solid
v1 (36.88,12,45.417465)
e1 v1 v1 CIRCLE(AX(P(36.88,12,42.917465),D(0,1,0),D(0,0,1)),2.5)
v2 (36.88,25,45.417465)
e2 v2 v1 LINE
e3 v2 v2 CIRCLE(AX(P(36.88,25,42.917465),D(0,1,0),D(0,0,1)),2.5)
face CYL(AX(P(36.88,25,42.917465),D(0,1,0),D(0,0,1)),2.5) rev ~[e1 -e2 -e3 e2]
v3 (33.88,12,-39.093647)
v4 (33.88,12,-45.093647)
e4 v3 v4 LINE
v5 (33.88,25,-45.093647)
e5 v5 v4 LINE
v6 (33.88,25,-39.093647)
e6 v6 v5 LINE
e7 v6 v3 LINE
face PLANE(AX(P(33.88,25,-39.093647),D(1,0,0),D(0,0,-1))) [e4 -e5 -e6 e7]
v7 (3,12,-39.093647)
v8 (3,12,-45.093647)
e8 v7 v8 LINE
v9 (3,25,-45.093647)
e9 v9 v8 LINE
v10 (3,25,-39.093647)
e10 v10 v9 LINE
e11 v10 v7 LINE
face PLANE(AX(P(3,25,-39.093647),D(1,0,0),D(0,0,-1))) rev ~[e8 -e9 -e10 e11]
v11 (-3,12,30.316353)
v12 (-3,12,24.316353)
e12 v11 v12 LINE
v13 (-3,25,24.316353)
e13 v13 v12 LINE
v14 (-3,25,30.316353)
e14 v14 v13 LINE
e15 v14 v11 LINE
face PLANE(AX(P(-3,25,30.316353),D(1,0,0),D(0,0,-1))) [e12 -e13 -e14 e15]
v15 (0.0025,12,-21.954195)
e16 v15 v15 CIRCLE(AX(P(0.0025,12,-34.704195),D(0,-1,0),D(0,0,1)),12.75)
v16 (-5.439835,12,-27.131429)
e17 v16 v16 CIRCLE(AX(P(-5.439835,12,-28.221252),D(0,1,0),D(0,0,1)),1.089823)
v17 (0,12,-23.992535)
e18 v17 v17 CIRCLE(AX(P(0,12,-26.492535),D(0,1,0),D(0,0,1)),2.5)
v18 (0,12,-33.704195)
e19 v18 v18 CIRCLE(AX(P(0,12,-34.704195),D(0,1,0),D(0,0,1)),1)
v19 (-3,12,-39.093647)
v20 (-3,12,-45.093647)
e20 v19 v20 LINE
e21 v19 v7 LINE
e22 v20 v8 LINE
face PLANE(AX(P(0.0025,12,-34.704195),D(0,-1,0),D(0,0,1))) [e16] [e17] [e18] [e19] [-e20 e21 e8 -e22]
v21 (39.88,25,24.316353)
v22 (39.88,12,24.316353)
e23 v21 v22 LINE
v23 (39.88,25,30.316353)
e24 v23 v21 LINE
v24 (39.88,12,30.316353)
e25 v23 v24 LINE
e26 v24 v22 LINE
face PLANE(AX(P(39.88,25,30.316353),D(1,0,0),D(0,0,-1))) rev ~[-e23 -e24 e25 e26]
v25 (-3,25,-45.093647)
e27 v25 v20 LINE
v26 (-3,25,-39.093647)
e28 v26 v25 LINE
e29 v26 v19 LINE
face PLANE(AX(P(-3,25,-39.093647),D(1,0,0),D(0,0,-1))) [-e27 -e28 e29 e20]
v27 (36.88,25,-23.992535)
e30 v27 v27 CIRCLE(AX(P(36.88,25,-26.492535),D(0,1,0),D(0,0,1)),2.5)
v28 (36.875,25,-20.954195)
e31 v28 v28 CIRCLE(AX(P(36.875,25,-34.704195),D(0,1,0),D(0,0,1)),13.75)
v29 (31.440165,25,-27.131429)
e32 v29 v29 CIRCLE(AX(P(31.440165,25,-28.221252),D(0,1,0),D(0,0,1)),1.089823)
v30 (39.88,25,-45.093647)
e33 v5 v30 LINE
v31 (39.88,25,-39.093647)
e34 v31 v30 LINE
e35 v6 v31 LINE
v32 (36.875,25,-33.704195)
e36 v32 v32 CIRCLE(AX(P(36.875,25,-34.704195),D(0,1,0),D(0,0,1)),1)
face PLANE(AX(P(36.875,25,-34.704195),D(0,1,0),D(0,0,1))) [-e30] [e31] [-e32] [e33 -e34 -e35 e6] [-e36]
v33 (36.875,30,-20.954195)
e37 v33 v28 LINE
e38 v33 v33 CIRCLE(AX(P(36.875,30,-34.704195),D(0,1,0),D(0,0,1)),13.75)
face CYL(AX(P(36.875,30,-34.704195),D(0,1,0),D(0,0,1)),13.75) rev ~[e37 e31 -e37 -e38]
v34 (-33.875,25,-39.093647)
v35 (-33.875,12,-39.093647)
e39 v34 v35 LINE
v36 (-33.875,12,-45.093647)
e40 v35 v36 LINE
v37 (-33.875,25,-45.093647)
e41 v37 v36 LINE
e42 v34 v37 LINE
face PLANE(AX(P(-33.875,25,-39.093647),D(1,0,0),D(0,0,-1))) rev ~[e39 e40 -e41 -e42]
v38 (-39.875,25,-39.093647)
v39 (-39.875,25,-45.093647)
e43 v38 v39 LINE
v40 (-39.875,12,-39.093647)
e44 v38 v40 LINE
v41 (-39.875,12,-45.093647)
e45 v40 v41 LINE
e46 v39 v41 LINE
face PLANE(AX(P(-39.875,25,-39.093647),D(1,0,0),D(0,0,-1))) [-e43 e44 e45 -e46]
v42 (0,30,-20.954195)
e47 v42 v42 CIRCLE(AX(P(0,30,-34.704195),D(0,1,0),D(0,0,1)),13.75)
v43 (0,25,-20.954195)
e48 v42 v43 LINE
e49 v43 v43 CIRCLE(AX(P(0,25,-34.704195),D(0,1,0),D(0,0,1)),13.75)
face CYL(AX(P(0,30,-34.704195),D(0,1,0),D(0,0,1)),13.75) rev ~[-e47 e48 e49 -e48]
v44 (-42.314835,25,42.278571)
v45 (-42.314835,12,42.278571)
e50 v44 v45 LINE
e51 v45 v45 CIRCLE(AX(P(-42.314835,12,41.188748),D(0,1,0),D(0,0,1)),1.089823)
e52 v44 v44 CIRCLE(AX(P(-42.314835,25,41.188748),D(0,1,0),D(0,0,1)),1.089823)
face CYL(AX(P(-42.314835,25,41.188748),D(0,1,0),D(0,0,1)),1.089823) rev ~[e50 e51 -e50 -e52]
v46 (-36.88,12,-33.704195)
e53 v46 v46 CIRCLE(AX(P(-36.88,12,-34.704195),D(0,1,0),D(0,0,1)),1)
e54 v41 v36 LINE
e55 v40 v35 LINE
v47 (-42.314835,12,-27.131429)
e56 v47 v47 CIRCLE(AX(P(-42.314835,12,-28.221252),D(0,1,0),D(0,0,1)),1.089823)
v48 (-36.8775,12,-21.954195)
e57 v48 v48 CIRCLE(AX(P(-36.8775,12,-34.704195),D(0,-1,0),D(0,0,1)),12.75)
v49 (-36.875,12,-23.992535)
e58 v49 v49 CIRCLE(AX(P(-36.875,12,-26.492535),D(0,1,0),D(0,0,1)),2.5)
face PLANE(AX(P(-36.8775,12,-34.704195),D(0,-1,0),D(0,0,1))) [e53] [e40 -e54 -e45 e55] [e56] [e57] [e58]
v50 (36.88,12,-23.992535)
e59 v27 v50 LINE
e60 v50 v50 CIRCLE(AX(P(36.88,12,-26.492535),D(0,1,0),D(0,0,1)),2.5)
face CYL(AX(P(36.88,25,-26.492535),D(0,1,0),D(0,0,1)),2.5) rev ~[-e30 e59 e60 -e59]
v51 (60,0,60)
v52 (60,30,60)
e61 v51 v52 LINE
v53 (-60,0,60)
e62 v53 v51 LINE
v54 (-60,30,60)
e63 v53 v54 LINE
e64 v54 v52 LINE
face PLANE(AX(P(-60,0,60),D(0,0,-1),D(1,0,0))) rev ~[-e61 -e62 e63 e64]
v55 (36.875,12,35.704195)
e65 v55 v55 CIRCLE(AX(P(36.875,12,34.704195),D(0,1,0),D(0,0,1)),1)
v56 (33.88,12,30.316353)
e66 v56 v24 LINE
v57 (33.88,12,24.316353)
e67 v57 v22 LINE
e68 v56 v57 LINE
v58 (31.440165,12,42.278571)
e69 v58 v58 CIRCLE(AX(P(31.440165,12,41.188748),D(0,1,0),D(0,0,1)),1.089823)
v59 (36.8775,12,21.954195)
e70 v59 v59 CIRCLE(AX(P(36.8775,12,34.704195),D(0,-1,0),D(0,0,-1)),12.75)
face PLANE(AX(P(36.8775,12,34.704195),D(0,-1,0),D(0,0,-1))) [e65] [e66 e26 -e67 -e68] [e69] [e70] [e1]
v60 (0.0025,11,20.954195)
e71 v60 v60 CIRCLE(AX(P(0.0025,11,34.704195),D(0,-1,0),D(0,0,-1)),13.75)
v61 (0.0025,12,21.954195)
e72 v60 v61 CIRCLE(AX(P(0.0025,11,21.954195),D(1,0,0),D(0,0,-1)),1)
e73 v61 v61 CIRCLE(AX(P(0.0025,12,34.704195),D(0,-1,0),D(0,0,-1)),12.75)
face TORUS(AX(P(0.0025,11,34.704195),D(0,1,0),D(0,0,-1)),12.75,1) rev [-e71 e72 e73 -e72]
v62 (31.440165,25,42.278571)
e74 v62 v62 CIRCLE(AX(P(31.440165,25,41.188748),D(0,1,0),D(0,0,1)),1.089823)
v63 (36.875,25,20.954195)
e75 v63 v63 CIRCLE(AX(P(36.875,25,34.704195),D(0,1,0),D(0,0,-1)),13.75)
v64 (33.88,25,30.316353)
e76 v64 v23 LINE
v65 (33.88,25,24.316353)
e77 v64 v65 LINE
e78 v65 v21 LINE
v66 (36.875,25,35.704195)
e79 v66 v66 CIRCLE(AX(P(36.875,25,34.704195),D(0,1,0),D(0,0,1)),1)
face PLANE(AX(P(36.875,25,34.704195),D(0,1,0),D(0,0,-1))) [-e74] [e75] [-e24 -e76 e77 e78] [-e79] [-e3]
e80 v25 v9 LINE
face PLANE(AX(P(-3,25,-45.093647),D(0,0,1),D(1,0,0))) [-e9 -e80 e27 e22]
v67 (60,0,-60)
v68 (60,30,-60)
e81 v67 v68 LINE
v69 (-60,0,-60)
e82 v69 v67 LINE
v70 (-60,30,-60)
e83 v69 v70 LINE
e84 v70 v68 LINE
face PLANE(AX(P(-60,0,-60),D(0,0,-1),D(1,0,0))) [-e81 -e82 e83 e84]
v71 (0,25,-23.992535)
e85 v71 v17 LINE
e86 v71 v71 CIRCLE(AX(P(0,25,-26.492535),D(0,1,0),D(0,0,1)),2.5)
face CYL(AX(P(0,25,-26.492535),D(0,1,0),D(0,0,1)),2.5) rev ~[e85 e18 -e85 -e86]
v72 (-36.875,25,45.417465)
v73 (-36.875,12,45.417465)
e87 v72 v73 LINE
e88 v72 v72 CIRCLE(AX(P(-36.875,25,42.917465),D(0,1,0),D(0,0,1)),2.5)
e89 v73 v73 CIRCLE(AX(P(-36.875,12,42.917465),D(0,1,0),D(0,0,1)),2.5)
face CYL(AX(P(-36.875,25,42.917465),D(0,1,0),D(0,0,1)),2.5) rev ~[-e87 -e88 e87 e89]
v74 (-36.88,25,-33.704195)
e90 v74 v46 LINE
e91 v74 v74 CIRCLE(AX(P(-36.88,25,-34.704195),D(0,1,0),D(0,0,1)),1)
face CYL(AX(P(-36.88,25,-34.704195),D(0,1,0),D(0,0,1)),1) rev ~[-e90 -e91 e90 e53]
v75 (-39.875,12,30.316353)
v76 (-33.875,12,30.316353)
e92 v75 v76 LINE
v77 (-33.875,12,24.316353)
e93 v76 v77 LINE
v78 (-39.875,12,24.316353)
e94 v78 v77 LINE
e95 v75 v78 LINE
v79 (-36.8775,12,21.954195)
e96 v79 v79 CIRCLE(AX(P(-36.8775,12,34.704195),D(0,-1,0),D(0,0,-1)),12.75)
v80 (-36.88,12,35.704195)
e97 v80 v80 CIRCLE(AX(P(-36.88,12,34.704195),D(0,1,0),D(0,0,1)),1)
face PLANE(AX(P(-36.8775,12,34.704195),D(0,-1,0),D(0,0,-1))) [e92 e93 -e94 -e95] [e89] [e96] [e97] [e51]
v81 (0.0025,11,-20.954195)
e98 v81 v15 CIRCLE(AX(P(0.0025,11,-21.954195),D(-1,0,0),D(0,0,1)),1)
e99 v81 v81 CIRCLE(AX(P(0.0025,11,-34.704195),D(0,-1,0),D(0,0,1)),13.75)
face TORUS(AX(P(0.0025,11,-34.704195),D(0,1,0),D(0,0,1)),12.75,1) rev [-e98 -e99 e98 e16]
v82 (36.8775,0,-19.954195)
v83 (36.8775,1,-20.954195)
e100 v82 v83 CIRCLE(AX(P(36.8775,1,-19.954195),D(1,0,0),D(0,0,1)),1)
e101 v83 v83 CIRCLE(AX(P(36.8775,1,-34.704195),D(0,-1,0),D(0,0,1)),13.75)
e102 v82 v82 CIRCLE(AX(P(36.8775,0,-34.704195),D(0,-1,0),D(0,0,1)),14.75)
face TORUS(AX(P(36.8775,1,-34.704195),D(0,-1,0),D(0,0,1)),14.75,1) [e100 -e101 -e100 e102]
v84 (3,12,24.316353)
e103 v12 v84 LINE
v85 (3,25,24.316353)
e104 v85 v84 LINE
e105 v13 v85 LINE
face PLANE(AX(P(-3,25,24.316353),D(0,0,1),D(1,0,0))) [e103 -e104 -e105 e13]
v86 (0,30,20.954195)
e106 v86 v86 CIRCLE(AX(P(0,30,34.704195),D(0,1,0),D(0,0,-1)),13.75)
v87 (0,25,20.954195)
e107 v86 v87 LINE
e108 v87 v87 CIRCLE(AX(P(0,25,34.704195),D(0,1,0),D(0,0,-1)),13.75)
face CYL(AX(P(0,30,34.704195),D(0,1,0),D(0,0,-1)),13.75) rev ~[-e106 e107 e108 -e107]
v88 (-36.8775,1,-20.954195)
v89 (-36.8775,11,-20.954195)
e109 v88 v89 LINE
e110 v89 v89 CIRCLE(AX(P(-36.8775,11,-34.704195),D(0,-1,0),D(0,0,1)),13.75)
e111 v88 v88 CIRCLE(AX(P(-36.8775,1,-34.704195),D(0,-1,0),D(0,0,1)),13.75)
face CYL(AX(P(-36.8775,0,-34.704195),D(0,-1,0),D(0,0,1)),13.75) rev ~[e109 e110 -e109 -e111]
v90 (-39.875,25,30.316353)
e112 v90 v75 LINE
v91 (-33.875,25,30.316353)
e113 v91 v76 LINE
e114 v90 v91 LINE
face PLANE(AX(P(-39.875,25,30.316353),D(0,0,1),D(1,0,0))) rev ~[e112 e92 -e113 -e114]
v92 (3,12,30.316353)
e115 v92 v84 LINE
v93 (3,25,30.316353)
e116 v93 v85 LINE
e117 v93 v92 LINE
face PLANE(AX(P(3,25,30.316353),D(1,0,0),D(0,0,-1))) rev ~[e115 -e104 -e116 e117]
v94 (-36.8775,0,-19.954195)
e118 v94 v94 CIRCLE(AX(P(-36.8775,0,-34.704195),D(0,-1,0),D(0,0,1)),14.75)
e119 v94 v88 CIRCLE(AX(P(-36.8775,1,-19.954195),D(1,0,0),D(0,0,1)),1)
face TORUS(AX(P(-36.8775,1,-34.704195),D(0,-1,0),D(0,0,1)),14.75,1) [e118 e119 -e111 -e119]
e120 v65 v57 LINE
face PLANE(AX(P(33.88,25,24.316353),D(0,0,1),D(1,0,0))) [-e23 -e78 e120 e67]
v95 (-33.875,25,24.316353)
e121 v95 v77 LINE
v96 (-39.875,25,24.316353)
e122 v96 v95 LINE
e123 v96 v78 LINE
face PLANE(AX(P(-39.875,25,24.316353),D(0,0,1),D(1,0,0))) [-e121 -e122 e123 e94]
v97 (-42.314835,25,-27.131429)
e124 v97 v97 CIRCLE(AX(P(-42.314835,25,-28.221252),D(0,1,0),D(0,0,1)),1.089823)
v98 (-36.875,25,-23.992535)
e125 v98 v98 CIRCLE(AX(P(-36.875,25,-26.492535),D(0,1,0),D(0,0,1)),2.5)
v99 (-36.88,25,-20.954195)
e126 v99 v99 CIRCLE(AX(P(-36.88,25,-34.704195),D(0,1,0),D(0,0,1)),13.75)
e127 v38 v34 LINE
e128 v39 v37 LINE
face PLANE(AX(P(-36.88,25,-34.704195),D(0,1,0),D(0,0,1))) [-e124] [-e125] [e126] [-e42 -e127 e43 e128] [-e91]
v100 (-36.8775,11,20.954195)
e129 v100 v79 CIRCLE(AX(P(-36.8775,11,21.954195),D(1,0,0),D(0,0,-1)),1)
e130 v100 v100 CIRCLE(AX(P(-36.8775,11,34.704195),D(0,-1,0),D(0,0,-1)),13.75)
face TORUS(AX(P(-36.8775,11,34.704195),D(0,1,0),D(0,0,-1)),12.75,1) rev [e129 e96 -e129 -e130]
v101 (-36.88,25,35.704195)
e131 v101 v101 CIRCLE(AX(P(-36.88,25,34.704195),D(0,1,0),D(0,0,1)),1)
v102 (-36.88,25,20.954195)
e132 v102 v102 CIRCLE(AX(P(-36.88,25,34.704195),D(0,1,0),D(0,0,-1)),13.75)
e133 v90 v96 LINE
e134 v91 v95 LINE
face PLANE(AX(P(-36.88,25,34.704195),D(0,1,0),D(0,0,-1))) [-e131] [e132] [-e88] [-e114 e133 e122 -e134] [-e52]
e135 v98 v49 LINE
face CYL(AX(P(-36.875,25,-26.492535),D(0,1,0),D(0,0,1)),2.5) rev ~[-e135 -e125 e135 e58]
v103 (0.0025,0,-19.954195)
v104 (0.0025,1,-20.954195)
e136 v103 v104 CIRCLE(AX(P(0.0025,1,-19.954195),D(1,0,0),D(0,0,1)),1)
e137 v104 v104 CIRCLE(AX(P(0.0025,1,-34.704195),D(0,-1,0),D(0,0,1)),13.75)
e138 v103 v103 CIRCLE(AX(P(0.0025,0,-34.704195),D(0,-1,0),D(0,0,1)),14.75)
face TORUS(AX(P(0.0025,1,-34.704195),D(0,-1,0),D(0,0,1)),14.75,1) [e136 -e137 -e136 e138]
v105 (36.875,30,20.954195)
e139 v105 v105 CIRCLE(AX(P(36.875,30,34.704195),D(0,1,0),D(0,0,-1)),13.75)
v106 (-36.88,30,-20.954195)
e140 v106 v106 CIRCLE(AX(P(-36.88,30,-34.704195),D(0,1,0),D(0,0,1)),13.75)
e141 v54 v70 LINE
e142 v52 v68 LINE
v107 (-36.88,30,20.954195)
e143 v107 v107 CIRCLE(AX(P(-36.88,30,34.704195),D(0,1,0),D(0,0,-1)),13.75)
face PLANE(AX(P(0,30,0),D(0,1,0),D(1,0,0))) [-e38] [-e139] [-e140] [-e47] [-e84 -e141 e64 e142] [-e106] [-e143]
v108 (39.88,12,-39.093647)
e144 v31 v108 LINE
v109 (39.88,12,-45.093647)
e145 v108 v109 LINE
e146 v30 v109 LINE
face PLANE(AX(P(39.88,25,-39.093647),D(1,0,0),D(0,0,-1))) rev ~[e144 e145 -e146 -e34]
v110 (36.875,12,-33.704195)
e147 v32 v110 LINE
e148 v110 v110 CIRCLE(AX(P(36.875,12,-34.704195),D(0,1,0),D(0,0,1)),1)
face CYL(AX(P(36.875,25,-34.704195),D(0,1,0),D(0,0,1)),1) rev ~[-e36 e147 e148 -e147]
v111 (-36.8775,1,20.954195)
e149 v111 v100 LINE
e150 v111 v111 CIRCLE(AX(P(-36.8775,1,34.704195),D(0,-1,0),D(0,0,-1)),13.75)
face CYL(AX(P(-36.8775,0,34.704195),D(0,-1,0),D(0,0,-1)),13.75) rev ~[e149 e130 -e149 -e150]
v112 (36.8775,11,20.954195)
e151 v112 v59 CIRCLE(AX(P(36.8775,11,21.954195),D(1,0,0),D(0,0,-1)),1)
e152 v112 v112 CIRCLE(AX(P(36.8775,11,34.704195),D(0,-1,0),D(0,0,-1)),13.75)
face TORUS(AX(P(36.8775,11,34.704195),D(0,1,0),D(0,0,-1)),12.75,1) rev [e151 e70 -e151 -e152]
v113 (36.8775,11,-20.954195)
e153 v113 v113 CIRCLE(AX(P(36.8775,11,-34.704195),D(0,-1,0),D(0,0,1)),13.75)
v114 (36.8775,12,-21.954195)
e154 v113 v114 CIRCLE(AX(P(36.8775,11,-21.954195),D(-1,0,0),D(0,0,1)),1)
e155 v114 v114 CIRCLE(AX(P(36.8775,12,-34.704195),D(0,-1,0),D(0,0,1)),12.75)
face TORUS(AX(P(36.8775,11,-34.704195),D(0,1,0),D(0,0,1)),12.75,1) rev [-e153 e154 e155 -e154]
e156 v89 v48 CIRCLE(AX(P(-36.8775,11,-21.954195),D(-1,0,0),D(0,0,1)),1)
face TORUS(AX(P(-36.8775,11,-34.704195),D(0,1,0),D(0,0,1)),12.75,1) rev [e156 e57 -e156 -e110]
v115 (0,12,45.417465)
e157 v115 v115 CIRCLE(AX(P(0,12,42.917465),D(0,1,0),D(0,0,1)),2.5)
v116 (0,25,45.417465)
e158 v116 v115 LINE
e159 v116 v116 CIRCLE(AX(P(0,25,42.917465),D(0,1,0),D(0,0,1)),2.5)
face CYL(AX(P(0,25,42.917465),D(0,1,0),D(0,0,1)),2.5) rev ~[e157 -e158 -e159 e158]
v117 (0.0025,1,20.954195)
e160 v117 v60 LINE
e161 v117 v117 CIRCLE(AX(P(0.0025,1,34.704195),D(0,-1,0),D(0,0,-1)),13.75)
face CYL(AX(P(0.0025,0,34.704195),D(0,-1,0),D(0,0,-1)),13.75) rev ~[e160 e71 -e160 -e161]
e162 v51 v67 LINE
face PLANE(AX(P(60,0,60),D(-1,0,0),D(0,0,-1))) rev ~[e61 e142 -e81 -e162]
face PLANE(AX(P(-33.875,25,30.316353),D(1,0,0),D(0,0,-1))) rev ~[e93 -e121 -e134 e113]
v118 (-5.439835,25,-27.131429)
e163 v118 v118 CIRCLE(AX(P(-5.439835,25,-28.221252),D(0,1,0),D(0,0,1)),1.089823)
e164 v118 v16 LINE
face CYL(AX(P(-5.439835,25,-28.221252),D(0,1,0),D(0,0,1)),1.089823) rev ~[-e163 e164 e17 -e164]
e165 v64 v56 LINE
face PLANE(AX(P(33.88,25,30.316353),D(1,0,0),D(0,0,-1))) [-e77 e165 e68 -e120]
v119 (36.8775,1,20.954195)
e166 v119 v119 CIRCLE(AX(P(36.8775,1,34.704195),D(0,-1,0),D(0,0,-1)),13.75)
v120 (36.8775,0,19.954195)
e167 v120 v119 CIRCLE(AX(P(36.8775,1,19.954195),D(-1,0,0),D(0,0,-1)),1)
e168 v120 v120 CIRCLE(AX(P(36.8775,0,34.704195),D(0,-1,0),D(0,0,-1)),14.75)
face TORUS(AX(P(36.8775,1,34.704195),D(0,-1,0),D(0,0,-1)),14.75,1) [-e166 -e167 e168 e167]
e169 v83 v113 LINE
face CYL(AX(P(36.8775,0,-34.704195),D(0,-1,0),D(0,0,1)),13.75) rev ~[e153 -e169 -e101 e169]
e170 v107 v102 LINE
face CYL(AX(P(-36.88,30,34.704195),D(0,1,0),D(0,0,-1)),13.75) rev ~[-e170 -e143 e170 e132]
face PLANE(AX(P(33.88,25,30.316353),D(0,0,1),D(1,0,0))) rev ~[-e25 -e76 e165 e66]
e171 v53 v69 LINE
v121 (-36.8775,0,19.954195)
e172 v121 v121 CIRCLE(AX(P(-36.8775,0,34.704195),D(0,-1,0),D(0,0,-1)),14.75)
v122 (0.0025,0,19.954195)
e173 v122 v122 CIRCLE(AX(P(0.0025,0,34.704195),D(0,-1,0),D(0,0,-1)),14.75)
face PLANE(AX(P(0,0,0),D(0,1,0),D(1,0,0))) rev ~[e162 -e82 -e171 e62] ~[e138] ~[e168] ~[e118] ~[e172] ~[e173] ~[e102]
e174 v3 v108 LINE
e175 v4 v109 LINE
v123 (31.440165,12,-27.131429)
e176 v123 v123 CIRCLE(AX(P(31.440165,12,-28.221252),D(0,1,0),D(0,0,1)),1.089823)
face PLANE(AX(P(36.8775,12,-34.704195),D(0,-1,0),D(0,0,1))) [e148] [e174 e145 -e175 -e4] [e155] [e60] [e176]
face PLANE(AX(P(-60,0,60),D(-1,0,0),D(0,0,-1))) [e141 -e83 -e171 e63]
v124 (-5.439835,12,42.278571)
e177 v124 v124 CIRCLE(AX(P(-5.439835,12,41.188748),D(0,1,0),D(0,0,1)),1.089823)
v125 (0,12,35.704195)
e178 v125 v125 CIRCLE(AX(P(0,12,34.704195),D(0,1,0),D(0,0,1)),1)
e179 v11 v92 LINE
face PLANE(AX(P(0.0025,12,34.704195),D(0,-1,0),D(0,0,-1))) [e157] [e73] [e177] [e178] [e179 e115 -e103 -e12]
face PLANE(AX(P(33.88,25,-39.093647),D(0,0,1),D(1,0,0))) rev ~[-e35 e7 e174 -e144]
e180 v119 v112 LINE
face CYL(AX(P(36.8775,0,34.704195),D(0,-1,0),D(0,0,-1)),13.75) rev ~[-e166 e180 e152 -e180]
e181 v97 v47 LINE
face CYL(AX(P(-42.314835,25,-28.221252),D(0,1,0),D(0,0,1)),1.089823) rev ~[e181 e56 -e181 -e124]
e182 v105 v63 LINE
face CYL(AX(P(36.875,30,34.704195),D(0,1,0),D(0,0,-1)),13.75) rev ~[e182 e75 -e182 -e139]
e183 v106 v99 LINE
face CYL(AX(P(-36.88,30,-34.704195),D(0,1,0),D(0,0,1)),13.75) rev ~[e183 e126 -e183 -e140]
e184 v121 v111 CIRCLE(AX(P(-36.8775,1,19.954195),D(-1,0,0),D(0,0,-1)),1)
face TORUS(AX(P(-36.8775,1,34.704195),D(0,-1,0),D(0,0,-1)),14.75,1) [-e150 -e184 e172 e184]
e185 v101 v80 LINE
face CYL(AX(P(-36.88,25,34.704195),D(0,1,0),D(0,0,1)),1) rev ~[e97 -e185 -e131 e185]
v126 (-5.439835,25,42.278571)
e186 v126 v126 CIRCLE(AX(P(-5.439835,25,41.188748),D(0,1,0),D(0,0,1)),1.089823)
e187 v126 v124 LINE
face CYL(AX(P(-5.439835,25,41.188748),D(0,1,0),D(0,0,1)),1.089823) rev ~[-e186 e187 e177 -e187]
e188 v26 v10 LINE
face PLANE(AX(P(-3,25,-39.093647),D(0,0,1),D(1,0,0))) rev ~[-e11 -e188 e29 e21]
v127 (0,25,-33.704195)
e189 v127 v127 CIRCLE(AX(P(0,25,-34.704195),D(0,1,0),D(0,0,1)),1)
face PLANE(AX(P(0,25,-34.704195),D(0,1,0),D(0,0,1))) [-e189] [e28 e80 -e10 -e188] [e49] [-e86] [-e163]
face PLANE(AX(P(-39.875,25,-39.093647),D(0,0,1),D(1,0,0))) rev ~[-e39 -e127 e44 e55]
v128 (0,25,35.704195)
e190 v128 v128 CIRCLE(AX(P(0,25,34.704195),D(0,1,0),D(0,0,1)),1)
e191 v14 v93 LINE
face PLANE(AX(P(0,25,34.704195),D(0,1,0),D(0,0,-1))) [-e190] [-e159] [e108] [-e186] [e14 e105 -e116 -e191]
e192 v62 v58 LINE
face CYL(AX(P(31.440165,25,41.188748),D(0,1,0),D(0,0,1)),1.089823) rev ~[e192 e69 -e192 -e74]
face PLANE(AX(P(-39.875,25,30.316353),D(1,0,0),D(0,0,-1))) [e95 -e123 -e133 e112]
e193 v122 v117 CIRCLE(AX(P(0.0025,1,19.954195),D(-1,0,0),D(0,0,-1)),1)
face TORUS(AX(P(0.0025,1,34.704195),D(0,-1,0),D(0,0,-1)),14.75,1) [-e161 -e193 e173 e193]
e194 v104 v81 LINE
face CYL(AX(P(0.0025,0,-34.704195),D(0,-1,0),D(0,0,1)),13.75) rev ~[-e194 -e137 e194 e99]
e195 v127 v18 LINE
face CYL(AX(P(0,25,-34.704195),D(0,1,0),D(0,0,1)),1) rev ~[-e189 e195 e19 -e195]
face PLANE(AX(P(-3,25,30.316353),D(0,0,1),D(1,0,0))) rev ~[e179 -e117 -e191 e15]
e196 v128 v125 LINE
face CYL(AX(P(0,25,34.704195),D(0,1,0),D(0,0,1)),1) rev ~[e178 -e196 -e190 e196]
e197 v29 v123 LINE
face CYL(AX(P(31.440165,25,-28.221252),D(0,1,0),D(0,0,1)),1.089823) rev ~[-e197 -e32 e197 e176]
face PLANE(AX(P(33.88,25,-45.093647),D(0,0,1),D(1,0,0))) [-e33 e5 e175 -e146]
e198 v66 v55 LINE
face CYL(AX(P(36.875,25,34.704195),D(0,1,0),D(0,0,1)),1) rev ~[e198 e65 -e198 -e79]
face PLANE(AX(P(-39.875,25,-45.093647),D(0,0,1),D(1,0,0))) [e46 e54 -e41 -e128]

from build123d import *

# Parameters (mm, degrees)
SKETCH1_W           = 120
SKETCH1_H           = 120
BOSS_EXTRUDE1_DEPTH = 30
SKETCH2_R           = 13.75
CUT_EXTRUDE1_DEPTH  = 5
SKETCH3_R           = 1
SKETCH3_R_2         = 2.5
SKETCH3_R_3         = 1.089822964
SKETCH3_W           = 6
SKETCH3_H           = 6
CUT_EXTRUDE2_DEPTH  = 30
SKETCH6_R           = 13.75
CUT_EXTRUDE3_DEPTH  = 12
FILLET1_R           = 1


with BuildPart() as part:
    # Sketch1 → Boss-Extrude1 (new body)
    with BuildSketch(Plane(origin=(0, 0, 0), x_dir=(1, 0, 0), z_dir=(0, 1, 0))):
        Rectangle(SKETCH1_W, SKETCH1_H)
    extrude(amount=BOSS_EXTRUDE1_DEPTH)

    # Sketch2 → Cut-Extrude1 (cut)
    with BuildSketch(Plane(origin=(0, 30, 0), x_dir=(1, 0, 0), z_dir=(0, 1, 0))):
        with Locations(Location((0, 34.704194641, 0), (0, 0, 270))):
            Circle(SKETCH2_R)
        with Locations(Location((0, -34.704194641, 0), (0, 0, 90))):
            Circle(SKETCH2_R)
        with Locations(Location((36.875, -34.704194641, 0), (0, 0, 90))):
            Circle(SKETCH2_R)
        with Locations(Location((36.875, 34.704194641, 0), (0, 0, 270))):
            Circle(SKETCH2_R)
        with Locations(Location((-36.88, -34.704194641, 0), (0, 0, 90))):
            Circle(SKETCH2_R)
        with Locations(Location((-36.88, 34.704194641, 0), (0, 0, 270))):
            Circle(SKETCH2_R)
    extrude(amount=-CUT_EXTRUDE1_DEPTH, mode=Mode.SUBTRACT)

    # Sketch3 → Cut-Extrude2 (cut)
    with BuildSketch(Plane(origin=(0, 25, 0), x_dir=(1, 0, 0), z_dir=(0, 1, 0))):
        with Locations(Location((0, 34.704194641, 0), (0, 0, 270))):
            Circle(SKETCH3_R)
        with Locations(Location((0, -34.704194641, 0), (0, 0, 270))):
            Circle(SKETCH3_R)
        with Locations(Location((36.875, -34.704194641, 0), (0, 0, 270))):
            Circle(SKETCH3_R)
        with Locations(Location((36.875, 34.704194641, 0), (0, 0, 270))):
            Circle(SKETCH3_R)
        with Locations(Location((-36.88, -34.704194641, 0), (0, 0, 270))):
            Circle(SKETCH3_R)
        with Locations(Location((-36.88, 34.704194641, 0), (0, 0, 270))):
            Circle(SKETCH3_R)
        with Locations(Location((0, 26.492535085, 0), (0, 0, 270))):
            Circle(SKETCH3_R_2)
        with Locations(Location((-5.439834644, 28.22125216, 0), (0, 0, 270))):
            Circle(SKETCH3_R_3)
        with Locations(Location((36.88, 26.492535085, 0), (0, 0, 270))):
            Circle(SKETCH3_R_2)
        with Locations(Location((31.440165356, 28.22125216, 0), (0, 0, 270))):
            Circle(SKETCH3_R_3)
        with Locations(Location((-36.875, 26.492535085, 0), (0, 0, 270))):
            Circle(SKETCH3_R_2)
        with Locations(Location((-42.314834644, 28.22125216, 0), (0, 0, 270))):
            Circle(SKETCH3_R_3)
        with Locations(Location((0, -42.917464915, 0), (0, 0, 270))):
            Circle(SKETCH3_R_2)
        with Locations(Location((-5.439834644, -41.18874784, 0), (0, 0, 270))):
            Circle(SKETCH3_R_3)
        with Locations(Location((36.88, -42.917464915, 0), (0, 0, 270))):
            Circle(SKETCH3_R_2)
        with Locations(Location((31.440165356, -41.18874784, 0), (0, 0, 270))):
            Circle(SKETCH3_R_3)
        with Locations(Location((-36.875, -42.917464915, 0), (0, 0, 270))):
            Circle(SKETCH3_R_2)
        with Locations(Location((-42.314834644, -41.18874784, 0), (0, 0, 270))):
            Circle(SKETCH3_R_3)
        with Locations((36.88, 42.093646574)):
            Rectangle(SKETCH3_W, SKETCH3_H)
        with Locations((0, 42.093646574)):
            Rectangle(SKETCH3_W, SKETCH3_H)
        with Locations((-36.875, 42.093646574)):
            Rectangle(SKETCH3_W, SKETCH3_H)
        with Locations((36.88, -27.316353426)):
            Rectangle(SKETCH3_W, SKETCH3_H)
        with Locations((0, -27.316353426)):
            Rectangle(SKETCH3_W, SKETCH3_H)
        with Locations((-36.875, -27.316353426)):
            Rectangle(SKETCH3_W, SKETCH3_H)
    extrude(amount=-CUT_EXTRUDE2_DEPTH, mode=Mode.SUBTRACT)

    # Sketch6 → Cut-Extrude3 (cut)
    with BuildSketch(Plane.XZ):
        with Locations(Location((0.0025, 34.704194641, 0), (0, 0, 270))):
            Circle(SKETCH6_R)
        with Locations(Location((0.0025, -34.704194641, 0), (0, 0, 90))):
            Circle(SKETCH6_R)
        with Locations(Location((36.8775, -34.704194641, 0), (0, 0, 90))):
            Circle(SKETCH6_R)
        with Locations(Location((36.8775, 34.704194641, 0), (0, 0, 270))):
            Circle(SKETCH6_R)
        with Locations(Location((-36.8775, -34.704194641, 0), (0, 0, 90))):
            Circle(SKETCH6_R)
        with Locations(Location((-36.8775, 34.704194641, 0), (0, 0, 270))):
            Circle(SKETCH6_R)
    extrude(amount=-CUT_EXTRUDE3_DEPTH, mode=Mode.SUBTRACT)

    # Fillet1
    fillet1_edges = [part.edges().sort_by_distance(p)[0] for p in [
        (-36.8775, 0, 48.454194641),
        (-36.8775, 12, 48.454194641),
        (36.8775, 0, -48.454194641),
        (36.8775, 12, -48.454194641),
        (36.8775, 0, 48.454194641),
        (36.8775, 12, 48.454194641),
        (0.0025, 0, -48.454194641),
        (0.0025, 12, -48.454194641),
        (-36.8775, 0, -48.454194641),
        (-36.8775, 12, -48.454194641),
        (0.0025, 0, 48.454194641),
        (0.0025, 12, 48.454194641),
    ]]
    fillet(fillet1_edges, radius=FILLET1_R)


solid = part.part
